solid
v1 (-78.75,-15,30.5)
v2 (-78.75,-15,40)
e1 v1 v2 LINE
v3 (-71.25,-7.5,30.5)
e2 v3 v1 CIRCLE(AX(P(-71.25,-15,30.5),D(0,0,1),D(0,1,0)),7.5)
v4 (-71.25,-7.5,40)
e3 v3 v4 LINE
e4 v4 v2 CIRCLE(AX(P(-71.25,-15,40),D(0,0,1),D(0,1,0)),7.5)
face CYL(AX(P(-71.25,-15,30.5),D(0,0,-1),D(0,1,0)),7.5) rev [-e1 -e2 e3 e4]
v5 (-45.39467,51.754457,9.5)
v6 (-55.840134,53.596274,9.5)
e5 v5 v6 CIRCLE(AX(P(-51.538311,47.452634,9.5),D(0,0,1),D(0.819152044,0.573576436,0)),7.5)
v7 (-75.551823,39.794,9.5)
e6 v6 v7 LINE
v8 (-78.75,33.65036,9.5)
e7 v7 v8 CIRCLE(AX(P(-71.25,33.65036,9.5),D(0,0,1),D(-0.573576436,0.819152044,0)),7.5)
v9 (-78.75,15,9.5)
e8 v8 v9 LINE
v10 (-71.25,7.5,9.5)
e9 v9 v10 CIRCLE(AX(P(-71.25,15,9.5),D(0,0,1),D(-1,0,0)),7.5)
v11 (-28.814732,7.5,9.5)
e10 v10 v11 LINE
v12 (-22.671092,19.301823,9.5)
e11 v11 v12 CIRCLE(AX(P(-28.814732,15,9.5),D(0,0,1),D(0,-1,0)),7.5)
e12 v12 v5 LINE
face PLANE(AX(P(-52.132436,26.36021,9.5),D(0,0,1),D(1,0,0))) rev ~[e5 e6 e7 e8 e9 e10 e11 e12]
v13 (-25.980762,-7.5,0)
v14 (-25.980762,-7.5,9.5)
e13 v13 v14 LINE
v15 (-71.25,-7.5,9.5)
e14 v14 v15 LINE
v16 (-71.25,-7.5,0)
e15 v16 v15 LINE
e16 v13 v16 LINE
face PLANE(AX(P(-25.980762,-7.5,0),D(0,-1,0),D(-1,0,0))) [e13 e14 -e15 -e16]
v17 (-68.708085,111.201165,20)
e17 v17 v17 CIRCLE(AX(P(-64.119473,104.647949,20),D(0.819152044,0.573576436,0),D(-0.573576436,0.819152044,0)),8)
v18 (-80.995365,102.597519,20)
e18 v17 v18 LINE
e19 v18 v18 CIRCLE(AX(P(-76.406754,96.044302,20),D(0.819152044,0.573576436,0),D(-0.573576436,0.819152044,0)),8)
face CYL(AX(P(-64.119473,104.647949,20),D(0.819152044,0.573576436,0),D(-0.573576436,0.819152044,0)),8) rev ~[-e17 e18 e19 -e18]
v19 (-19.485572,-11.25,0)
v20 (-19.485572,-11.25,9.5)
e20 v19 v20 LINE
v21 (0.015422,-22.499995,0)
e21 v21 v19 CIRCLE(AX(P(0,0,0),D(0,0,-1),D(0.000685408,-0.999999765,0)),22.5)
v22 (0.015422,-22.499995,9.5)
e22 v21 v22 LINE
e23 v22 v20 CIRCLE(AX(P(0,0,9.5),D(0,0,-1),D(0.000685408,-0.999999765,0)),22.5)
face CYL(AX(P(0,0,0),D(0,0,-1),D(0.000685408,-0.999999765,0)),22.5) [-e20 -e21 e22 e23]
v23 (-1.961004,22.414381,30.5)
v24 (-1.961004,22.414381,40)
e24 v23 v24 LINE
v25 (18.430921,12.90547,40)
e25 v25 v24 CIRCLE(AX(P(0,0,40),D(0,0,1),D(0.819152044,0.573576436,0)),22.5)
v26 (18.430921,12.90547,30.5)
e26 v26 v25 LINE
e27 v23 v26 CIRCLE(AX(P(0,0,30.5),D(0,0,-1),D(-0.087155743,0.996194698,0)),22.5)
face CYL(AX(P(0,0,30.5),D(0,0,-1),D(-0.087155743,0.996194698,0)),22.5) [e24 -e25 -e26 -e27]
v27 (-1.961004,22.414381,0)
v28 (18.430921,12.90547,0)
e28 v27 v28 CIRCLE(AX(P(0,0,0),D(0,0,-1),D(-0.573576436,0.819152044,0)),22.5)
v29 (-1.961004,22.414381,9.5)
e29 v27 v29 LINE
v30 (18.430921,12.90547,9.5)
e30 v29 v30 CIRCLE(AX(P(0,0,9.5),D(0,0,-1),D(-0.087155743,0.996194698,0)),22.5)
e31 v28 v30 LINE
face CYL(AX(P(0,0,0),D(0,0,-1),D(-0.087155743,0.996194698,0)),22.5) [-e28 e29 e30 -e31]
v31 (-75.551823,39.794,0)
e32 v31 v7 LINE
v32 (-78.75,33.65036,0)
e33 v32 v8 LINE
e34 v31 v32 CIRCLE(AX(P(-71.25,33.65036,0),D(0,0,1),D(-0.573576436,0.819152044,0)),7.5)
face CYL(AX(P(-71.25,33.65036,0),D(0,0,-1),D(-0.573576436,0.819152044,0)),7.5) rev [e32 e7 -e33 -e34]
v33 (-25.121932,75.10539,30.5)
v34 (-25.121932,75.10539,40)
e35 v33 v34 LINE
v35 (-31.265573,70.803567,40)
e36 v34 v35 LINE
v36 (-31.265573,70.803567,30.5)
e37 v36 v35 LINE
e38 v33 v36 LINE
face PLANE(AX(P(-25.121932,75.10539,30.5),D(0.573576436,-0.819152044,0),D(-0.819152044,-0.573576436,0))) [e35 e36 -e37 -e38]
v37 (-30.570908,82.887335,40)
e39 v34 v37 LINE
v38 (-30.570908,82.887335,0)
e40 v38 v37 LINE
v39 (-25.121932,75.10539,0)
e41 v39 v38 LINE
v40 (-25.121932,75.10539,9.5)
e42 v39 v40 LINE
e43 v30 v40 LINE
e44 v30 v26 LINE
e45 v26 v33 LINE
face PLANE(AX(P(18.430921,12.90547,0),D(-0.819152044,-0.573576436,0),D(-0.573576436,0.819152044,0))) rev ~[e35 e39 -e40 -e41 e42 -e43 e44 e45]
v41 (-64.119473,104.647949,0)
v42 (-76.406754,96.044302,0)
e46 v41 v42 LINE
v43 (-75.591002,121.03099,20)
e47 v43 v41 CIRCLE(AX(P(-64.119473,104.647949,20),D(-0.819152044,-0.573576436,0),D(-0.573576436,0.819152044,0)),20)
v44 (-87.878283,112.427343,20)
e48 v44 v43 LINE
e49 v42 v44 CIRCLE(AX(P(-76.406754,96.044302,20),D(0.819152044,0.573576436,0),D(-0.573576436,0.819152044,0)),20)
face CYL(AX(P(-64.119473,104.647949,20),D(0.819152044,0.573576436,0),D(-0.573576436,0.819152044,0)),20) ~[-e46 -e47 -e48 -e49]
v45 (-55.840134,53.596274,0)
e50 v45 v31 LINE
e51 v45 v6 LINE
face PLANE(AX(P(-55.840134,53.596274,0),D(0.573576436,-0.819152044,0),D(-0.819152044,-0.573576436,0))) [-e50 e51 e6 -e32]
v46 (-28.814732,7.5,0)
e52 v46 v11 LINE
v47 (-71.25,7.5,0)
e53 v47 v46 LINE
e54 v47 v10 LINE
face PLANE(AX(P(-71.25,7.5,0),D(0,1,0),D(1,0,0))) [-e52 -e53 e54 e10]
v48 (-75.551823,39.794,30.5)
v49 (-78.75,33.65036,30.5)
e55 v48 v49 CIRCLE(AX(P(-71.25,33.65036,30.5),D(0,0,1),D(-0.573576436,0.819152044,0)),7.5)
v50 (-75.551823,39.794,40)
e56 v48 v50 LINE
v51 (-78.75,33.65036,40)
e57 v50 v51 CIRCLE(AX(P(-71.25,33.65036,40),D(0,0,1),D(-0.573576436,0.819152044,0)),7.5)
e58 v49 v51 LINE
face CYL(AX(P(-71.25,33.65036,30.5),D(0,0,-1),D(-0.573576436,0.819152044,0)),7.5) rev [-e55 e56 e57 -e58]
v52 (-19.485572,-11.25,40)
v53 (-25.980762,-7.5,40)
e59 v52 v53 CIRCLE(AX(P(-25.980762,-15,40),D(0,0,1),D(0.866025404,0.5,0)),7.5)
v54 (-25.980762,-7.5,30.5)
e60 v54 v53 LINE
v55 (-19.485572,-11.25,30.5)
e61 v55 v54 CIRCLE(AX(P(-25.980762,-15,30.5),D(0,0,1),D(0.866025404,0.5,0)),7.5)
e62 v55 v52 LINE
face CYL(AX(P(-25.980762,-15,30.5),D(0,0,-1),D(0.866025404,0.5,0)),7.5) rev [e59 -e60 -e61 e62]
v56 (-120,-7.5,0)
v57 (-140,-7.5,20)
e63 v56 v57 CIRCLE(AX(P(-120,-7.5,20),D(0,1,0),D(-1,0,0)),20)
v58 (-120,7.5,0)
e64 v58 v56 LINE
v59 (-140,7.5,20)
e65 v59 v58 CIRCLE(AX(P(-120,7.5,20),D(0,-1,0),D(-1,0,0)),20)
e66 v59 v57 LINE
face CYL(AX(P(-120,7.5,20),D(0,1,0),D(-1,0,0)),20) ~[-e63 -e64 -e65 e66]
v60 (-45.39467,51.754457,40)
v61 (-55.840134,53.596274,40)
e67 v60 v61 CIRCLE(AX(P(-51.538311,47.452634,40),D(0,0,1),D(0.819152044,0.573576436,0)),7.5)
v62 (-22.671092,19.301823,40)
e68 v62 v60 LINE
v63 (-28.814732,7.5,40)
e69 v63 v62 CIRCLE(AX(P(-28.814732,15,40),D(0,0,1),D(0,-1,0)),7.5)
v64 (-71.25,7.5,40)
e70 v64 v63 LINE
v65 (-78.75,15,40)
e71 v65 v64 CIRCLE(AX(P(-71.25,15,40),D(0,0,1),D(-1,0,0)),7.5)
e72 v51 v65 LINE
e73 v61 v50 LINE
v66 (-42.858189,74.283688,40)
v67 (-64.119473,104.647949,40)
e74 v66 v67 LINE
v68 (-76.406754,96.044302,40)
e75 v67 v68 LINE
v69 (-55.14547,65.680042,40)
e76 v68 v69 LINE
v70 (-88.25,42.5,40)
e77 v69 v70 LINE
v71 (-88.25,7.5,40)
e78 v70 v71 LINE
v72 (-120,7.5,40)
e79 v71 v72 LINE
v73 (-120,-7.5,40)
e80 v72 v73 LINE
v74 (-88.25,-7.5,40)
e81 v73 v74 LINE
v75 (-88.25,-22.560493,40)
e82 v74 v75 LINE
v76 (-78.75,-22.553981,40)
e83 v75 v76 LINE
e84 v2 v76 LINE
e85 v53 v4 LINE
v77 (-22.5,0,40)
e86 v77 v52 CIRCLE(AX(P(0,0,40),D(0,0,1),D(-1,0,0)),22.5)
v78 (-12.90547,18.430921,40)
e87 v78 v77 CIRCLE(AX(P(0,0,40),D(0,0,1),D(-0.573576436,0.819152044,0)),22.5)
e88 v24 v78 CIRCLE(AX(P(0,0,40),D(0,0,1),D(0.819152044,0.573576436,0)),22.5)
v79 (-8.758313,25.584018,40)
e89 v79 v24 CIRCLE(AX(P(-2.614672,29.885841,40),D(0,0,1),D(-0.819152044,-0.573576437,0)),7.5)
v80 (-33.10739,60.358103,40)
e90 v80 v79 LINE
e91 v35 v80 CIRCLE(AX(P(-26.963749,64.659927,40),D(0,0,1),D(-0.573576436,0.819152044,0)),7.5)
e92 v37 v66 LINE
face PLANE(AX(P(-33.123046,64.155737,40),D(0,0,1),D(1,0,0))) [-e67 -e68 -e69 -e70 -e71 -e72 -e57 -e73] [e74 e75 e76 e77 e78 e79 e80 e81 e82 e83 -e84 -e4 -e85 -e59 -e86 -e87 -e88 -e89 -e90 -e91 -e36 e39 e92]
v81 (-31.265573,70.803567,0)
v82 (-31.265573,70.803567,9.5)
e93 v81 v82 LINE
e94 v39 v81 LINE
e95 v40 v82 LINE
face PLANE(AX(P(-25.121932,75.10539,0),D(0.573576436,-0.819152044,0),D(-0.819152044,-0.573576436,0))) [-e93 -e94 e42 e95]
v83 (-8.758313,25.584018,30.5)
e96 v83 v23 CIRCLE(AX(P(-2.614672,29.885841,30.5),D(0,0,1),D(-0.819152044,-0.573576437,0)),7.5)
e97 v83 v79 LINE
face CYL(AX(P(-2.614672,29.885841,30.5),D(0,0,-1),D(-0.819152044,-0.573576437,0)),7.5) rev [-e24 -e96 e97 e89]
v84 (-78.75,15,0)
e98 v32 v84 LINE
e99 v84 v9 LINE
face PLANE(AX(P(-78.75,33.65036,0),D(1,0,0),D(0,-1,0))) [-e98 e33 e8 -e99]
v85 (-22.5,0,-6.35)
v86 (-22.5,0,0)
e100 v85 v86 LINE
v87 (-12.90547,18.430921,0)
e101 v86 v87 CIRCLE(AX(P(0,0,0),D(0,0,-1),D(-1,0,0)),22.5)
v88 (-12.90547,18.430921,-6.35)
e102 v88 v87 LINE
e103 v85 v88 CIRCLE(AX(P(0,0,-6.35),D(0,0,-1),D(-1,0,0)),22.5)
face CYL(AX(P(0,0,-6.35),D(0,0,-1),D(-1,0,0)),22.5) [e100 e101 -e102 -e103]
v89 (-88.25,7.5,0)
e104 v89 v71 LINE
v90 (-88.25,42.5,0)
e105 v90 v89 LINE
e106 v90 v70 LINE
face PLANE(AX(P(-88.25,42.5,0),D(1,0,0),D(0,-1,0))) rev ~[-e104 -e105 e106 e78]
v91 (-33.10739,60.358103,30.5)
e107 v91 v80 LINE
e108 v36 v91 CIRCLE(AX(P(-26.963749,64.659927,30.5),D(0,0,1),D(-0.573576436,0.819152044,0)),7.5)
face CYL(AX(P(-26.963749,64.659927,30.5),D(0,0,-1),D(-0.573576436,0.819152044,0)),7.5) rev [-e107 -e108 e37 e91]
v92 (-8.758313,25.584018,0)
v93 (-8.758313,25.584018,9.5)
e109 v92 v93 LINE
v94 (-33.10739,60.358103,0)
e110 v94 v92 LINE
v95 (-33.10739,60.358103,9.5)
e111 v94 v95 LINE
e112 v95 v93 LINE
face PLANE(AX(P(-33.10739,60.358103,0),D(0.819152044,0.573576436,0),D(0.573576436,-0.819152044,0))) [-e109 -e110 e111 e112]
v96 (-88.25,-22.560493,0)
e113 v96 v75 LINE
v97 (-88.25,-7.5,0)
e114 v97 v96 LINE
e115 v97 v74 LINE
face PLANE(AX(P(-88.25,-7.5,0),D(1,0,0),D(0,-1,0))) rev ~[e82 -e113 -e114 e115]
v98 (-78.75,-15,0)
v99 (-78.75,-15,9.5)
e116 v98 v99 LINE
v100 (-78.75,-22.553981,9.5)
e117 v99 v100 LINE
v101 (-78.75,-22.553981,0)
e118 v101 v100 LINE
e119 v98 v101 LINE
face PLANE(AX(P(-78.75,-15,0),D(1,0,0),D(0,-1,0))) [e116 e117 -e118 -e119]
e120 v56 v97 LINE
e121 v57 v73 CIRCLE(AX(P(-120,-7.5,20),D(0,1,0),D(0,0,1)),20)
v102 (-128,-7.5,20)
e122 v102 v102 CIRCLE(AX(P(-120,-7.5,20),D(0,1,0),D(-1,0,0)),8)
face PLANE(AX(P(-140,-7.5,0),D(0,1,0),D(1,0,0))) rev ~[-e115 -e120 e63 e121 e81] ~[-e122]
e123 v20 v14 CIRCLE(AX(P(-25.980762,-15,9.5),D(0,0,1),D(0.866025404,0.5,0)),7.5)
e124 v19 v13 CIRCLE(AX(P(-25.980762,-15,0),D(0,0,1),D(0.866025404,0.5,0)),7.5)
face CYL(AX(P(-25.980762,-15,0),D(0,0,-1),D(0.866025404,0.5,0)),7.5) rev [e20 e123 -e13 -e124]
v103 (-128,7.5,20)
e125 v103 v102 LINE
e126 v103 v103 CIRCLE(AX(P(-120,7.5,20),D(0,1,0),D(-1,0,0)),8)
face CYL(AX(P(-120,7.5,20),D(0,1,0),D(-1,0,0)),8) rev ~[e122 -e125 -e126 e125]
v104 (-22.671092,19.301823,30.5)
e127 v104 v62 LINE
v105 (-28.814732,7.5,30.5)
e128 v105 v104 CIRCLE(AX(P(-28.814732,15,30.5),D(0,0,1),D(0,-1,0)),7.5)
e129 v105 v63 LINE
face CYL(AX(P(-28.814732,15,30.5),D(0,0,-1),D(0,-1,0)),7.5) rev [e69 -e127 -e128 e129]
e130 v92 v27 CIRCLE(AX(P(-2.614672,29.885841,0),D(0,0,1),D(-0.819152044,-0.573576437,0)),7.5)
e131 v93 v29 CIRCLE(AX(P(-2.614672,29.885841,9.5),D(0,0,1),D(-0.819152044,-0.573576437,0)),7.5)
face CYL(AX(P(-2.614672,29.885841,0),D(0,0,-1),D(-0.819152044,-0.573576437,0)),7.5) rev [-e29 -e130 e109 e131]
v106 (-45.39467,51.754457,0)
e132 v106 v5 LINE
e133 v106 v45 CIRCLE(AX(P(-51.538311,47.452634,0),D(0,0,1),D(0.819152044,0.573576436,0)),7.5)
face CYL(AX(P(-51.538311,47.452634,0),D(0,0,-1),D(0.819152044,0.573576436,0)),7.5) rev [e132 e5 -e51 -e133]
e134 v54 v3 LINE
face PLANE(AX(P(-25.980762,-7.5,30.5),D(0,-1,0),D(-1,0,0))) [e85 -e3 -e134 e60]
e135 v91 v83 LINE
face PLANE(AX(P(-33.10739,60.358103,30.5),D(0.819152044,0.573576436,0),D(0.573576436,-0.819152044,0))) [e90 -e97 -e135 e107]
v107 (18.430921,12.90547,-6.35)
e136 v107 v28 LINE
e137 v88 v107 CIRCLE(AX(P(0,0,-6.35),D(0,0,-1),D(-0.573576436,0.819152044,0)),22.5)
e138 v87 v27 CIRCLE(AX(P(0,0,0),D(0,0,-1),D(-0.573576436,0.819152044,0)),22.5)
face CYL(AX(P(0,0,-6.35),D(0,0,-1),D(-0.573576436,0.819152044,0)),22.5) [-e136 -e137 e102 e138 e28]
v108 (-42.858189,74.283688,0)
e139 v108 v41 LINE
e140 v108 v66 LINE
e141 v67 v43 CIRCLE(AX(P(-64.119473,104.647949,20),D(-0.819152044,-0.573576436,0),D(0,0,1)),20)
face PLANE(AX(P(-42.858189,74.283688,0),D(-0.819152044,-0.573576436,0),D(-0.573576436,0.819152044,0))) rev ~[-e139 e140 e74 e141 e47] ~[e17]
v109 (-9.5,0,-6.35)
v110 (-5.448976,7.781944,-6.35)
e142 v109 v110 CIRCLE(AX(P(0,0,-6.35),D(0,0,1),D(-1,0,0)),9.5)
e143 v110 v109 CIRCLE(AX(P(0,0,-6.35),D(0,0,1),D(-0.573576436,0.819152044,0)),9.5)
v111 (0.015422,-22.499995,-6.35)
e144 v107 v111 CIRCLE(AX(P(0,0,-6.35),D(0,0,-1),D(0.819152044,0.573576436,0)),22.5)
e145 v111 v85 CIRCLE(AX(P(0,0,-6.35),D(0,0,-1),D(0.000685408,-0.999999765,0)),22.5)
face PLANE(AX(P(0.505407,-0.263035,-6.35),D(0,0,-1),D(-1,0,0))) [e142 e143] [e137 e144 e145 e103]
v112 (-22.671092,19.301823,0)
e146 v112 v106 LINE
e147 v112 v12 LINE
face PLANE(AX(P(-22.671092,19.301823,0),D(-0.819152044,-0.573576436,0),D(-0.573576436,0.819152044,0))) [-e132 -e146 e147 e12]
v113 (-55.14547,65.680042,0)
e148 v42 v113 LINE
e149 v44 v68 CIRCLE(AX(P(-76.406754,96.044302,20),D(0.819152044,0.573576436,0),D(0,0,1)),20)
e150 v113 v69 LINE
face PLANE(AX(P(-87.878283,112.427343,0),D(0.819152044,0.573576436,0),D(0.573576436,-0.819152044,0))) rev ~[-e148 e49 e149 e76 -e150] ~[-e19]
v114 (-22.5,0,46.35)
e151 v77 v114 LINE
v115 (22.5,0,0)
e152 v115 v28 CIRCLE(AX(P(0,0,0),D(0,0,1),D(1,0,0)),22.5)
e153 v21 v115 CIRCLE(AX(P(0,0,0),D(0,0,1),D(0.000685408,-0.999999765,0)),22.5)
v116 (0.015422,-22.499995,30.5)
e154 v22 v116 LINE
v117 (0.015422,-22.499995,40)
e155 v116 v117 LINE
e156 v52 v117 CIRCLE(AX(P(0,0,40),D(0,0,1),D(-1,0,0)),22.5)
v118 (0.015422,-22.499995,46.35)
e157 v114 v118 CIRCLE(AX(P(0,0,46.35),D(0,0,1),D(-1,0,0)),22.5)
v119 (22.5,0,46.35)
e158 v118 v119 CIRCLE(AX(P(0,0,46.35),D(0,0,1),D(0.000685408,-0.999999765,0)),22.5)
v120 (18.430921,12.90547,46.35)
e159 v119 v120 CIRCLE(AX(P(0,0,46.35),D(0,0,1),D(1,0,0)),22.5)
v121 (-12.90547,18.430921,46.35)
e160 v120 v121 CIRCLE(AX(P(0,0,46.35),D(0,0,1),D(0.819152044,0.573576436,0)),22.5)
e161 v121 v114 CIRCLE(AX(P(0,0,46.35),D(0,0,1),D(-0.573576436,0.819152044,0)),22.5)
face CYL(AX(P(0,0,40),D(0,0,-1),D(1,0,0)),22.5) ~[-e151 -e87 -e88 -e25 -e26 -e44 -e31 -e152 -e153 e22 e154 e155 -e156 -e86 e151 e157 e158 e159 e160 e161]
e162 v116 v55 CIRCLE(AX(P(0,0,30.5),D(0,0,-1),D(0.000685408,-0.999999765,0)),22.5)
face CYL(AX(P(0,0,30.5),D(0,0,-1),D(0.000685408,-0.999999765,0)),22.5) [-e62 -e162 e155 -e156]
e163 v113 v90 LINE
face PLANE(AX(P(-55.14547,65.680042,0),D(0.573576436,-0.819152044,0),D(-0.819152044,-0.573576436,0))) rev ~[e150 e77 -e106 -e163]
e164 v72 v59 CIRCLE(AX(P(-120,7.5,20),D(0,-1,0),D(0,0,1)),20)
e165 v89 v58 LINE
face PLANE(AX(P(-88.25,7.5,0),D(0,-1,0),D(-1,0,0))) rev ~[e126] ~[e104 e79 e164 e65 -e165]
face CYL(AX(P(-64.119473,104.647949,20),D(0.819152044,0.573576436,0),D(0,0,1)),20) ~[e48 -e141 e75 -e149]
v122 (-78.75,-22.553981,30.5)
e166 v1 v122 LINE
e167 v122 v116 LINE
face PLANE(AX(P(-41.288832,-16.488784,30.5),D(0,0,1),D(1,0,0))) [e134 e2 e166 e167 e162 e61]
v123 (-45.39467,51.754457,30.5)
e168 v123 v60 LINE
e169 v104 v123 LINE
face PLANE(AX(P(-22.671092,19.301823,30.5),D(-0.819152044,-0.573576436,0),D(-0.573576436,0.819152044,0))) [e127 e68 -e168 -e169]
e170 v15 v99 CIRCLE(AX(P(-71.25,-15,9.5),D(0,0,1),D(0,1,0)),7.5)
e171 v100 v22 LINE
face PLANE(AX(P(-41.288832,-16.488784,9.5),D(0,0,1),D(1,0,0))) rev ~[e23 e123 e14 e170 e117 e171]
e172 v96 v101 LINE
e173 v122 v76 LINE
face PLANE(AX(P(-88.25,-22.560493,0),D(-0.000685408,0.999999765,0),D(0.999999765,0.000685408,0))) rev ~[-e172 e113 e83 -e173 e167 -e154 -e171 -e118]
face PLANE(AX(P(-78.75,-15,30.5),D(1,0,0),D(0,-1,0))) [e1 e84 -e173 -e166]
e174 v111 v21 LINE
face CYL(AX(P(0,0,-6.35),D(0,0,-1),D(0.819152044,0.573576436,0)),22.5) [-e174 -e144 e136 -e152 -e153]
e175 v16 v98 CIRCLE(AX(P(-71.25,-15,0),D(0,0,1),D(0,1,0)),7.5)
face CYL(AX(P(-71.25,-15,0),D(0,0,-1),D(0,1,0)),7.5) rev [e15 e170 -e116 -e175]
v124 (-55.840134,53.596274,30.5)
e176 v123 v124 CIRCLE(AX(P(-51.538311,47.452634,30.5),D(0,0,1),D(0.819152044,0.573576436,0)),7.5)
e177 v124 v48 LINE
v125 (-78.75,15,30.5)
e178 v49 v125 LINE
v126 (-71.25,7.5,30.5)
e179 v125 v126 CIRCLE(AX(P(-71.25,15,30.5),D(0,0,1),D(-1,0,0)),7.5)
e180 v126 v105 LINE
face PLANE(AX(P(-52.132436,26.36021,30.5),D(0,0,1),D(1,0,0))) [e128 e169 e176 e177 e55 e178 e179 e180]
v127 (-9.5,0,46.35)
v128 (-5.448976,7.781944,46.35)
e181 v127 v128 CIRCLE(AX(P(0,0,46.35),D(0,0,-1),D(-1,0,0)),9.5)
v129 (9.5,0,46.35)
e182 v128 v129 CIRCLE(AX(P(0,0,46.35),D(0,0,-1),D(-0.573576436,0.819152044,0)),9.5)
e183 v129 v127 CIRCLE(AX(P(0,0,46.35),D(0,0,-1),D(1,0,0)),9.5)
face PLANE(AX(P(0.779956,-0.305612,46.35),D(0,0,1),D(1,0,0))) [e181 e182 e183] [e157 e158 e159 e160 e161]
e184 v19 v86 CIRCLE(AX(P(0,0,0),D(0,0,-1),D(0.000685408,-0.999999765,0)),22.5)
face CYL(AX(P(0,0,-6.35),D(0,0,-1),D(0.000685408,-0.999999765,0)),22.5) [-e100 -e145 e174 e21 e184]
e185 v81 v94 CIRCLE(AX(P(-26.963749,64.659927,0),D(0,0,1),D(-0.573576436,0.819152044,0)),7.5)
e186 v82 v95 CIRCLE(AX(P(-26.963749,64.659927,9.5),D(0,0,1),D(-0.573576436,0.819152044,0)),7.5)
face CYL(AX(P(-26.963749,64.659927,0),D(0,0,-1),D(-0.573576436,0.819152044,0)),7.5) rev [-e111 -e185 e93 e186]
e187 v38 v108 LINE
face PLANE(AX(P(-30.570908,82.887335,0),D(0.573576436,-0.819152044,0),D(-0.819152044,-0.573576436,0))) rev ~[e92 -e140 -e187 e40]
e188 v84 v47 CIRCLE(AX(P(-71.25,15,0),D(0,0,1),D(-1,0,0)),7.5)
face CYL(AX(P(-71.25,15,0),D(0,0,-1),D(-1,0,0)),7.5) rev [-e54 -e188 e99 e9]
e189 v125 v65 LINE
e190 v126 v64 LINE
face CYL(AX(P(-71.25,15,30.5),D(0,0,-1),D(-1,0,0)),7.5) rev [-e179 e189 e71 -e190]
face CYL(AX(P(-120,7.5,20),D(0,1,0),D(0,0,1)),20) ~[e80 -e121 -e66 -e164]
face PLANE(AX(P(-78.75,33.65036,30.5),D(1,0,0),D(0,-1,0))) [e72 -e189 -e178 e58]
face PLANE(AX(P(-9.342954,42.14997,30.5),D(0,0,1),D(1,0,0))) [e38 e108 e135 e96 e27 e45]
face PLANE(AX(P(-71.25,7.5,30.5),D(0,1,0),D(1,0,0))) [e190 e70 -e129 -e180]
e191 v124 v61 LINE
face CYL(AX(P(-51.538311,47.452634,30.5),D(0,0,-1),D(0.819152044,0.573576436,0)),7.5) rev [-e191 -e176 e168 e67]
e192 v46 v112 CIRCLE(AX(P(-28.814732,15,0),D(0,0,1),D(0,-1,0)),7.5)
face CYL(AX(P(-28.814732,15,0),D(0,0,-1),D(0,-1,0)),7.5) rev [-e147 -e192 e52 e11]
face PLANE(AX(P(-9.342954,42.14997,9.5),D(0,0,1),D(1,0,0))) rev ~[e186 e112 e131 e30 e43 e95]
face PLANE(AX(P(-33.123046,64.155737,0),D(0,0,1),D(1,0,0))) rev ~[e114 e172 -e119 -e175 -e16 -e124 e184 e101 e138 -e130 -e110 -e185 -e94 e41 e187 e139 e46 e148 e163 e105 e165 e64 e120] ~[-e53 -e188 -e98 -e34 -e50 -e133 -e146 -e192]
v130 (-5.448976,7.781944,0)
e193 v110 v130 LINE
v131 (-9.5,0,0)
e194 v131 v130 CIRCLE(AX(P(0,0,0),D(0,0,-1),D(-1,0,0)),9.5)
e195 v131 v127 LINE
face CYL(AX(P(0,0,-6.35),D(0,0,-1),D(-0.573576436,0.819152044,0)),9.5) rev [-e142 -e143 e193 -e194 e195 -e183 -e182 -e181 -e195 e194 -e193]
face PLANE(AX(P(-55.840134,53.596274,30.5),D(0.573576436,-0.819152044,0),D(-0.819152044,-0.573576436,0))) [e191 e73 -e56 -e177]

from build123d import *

# Parameters (mm, degrees)
BOSS_EXTRU_1_DEPTH      = 40
ESQUISSE2_R             = 8
ENL_V_MAT_EXTRU_1_DEPTH = 192.268559563
ESQUISSE3_R             = 8
ENL_V_MAT_EXTRU_2_DEPTH = 185.632839971
BOSS_EXTRU_2_DEPTH      = 6.35
BOSS_EXTRU_3_START      = 6.35
BOSS_EXTRU_3_DEPTH      = 6.35
ENL_V_START             = -9.5
ENL_V_MAT_EXTRU_3_DEPTH = 9.5
ENL_V_MAT_EXTRU_4_DEPTH = 9.5


with BuildPart() as part:
    # Esquisse1 → Boss.-Extru.1 (new body)
    with BuildSketch(Plane.XY):
        with BuildLine():
            ThreePointArc((-12.905469818, 18.430920997), (3.907083998, 22.158174443), (18.430920997, 12.905469818))
            Line((18.430920997, 12.905469818), (-30.570908371, 82.887334756))
            Line((-30.570908371, 82.887334756), (-42.858189035, 74.28368821))
            Line((-42.858189035, 74.28368821), (-75.591001848, 121.030989584))
            Line((-75.591001848, 121.030989584), (-81.73464218, 116.729166311))
            Line((-81.73464218, 116.729166311), (-12.905469818, 18.430920997))
        make_face()
        with BuildLine():
            ThreePointArc((-22.5, 0), (-19.957743747, 10.389343798), (-12.905469818, 18.430920997))
            Line((-12.905469818, 18.430920997), (-81.73464218, 116.729166311))
            Line((-81.73464218, 116.729166311), (-87.878282512, 112.427343039))
            Line((-87.878282512, 112.427343039), (-55.1454697, 65.680041665))
            Line((-55.1454697, 65.680041665), (-88.25, 42.5))
            Line((-88.25, 42.5), (-88.25, 7.5))
            Line((-88.25, 7.5), (-140, 7.5))
            Line((-140, 7.5), (-140, 0))
            Line((-140, 0), (-22.5, 0))
        make_face()
        with BuildLine():
            Line((-88.25, -22.560492565), (0.015421683, -22.499994715))
            ThreePointArc((0.015421683, -22.499994715), (-15.904449254, -15.915354031), (-22.5, 0))
            Line((-22.5, 0), (-140, 0))
            Line((-140, 0), (-140, -7.5))
            Line((-140, -7.5), (-88.25, -7.5))
            Line((-88.25, -7.5), (-88.25, -22.560492565))
        make_face()
        with BuildLine():
            ThreePointArc((22.5, 0), (21.458631392, 6.765880489), (18.430920997, 12.905469818))
            ThreePointArc((18.430920997, 12.905469818), (3.907083998, 22.158174443), (-12.905469818, 18.430920997))
            Line((-12.905469818, 18.430920997), (-5.448976145, 7.781944421))
            ThreePointArc((-5.448976145, 7.781944421), (4.386611826, 8.426602915), (9.5, 0))
            ThreePointArc((9.5, 0), (0, -9.5), (-9.5, 0))
            Line((-9.5, 0), (-22.5, 0))
            ThreePointArc((-22.5, 0), (-15.904449254, -15.915354031), (0.015421683, -22.499994715))
            ThreePointArc((0.015421683, -22.499994715), (15.915354031, -15.904449254), (22.5, 0))
        make_face()
        with BuildLine():
            Line((-5.448976145, 7.781944421), (-12.905469818, 18.430920997))
            ThreePointArc((-12.905469818, 18.430920997), (-19.957743747, 10.389343798), (-22.5, 0))
            Line((-22.5, 0), (-9.5, 0))
            ThreePointArc((-9.5, 0), (-8.426602915, 4.386611826), (-5.448976145, 7.781944421))
        make_face()
        with BuildLine():
            ThreePointArc((22.5, 0), (21.458631392, 6.765880489), (18.430920997, 12.905469818))
            ThreePointArc((18.430920997, 12.905469818), (3.907083998, 22.158174443), (-12.905469818, 18.430920997))
            Line((-12.905469818, 18.430920997), (-5.448976145, 7.781944421))
            ThreePointArc((-5.448976145, 7.781944421), (4.386611826, 8.426602915), (9.5, 0))
            ThreePointArc((9.5, 0), (0, -9.5), (-9.5, 0))
            Line((-9.5, 0), (-22.5, 0))
            ThreePointArc((-22.5, 0), (-15.904449254, -15.915354031), (0.015421683, -22.499994715))
            ThreePointArc((0.015421683, -22.499994715), (15.915354031, -15.904449254), (22.5, 0))
        make_face()
        with BuildLine():
            Line((-5.448976145, 7.781944421), (-12.905469818, 18.430920997))
            ThreePointArc((-12.905469818, 18.430920997), (-19.957743747, 10.389343798), (-22.5, 0))
            Line((-22.5, 0), (-9.5, 0))
            ThreePointArc((-9.5, 0), (-8.426602915, 4.386611826), (-5.448976145, 7.781944421))
        make_face()
    extrude(amount=BOSS_EXTRU_1_DEPTH)

    # Esquisse2 → Enlèv. mat.-Extru.1 (cut, through all)
    with BuildSketch(Plane(origin=(6.143640332, 4.301823273, 0), x_dir=(0, 0, -1), z_dir=(0.8191520442889931, 0.5735764363510444, 0))):
        with Locations(Location((-20, 122.5, 0), (0, 0, 90))):
            Circle(ESQUISSE2_R)
        with BuildLine():
            ThreePointArc((-40, 122.5), (-34.142135624, 136.642135624), (-20, 142.5))
            Line((-20, 142.5), (-40, 142.5))
            Line((-40, 142.5), (-40, 122.5))
        make_face()
        with BuildLine():
            ThreePointArc((-20, 142.5), (-5.857864376, 136.642135624), (0, 122.5))
            Line((0, 122.5), (0, 142.5))
            Line((0, 142.5), (-20, 142.5))
        make_face()
    extrude(amount=-ENL_V_MAT_EXTRU_1_DEPTH, mode=Mode.SUBTRACT)

    # Esquisse3 → Enlèv. mat.-Extru.2 (cut, through all)
    with BuildSketch(Plane(origin=(0, 7.5, 0), x_dir=(1, 0, 0), z_dir=(0, 1, 0))):
        with BuildLine():
            ThreePointArc((-140, -20), (-134.142135624, -5.857864376), (-120, 0))
            Line((-120, 0), (-140, 0))
            Line((-140, 0), (-140, -20))
        make_face()
        with BuildLine():
            ThreePointArc((-120, -40), (-134.142135624, -34.142135624), (-140, -20))
            Line((-140, -20), (-140, -40))
            Line((-140, -40), (-120, -40))
        make_face()
        with Locations(Location((-120, -20, 0), (0, 0, 180))):
            Circle(ESQUISSE3_R)
    extrude(amount=-ENL_V_MAT_EXTRU_2_DEPTH, mode=Mode.SUBTRACT)

    # Esquisse4 → Boss.-Extru.2 (add)
    with BuildSketch(Plane.XY.offset(40)):
        with BuildLine():
            ThreePointArc((22.5, 0), (21.458631392, 6.765880489), (18.430920997, 12.905469818))
            ThreePointArc((18.430920997, 12.905469818), (3.907083998, 22.158174443), (-12.905469818, 18.430920997))
            Line((-12.905469818, 18.430920997), (-5.448976145, 7.781944421))
            ThreePointArc((-5.448976145, 7.781944421), (4.386611826, 8.426602915), (9.5, 0))
            ThreePointArc((9.5, 0), (0, -9.5), (-9.5, 0))
            Line((-9.5, 0), (-22.5, 0))
            ThreePointArc((-22.5, 0), (-15.904449254, -15.915354031), (0.015421683, -22.499994715))
            ThreePointArc((0.015421683, -22.499994715), (15.915354031, -15.904449254), (22.5, 0))
        make_face()
        with BuildLine():
            ThreePointArc((22.5, 0), (21.458631392, 6.765880489), (18.430920997, 12.905469818))
            ThreePointArc((18.430920997, 12.905469818), (3.907083998, 22.158174443), (-12.905469818, 18.430920997))
            Line((-12.905469818, 18.430920997), (-5.448976145, 7.781944421))
            ThreePointArc((-5.448976145, 7.781944421), (4.386611826, 8.426602915), (9.5, 0))
            ThreePointArc((9.5, 0), (0, -9.5), (-9.5, 0))
            Line((-9.5, 0), (-22.5, 0))
            ThreePointArc((-22.5, 0), (-15.904449254, -15.915354031), (0.015421683, -22.499994715))
            ThreePointArc((0.015421683, -22.499994715), (15.915354031, -15.904449254), (22.5, 0))
        make_face()
        with BuildLine():
            Line((-5.448976145, 7.781944421), (-12.905469818, 18.430920997))
            ThreePointArc((-12.905469818, 18.430920997), (-19.957743747, 10.389343798), (-22.5, 0))
            Line((-22.5, 0), (-9.5, 0))
            ThreePointArc((-9.5, 0), (-8.426602915, 4.386611826), (-5.448976145, 7.781944421))
        make_face()
    extrude(amount=BOSS_EXTRU_2_DEPTH)

    # Esquisse5 → Boss.-Extru.3 (add)
    with BuildSketch(Plane(origin=(0, 0, 0), x_dir=(-1, 0, 0), z_dir=(0, 0, -1)).offset(BOSS_EXTRU_3_START)):
        with BuildLine():
            ThreePointArc((12.905469818, 18.430920997), (-3.907083998, 22.158174443), (-18.430920997, 12.905469818))
            ThreePointArc((-18.430920997, 12.905469818), (-19.961303045, -10.382503588), (-0.015421683, -22.499994715))
            ThreePointArc((-0.015421683, -22.499994715), (15.904449254, -15.915354031), (22.5, 0))
            Line((22.5, 0), (9.5, 0))
            ThreePointArc((9.5, 0), (-8.426602915, -4.386611826), (5.448976145, 7.781944421))
            Line((5.448976145, 7.781944421), (12.905469818, 18.430920997))
        make_face()
        with BuildLine():
            ThreePointArc((22.5, 0), (19.957743747, 10.389343798), (12.905469818, 18.430920997))
            Line((12.905469818, 18.430920997), (5.448976145, 7.781944421))
            ThreePointArc((5.448976145, 7.781944421), (8.426602915, 4.386611826), (9.5, 0))
            Line((9.5, 0), (22.5, 0))
        make_face()
        with BuildLine():
            ThreePointArc((12.905469818, 18.430920997), (-3.907083998, 22.158174443), (-18.430920997, 12.905469818))
            ThreePointArc((-18.430920997, 12.905469818), (-19.961303045, -10.382503588), (-0.015421683, -22.499994715))
            ThreePointArc((-0.015421683, -22.499994715), (15.904449254, -15.915354031), (22.5, 0))
            Line((22.5, 0), (9.5, 0))
            ThreePointArc((9.5, 0), (-8.426602915, -4.386611826), (5.448976145, 7.781944421))
            Line((5.448976145, 7.781944421), (12.905469818, 18.430920997))
        make_face()
    extrude(amount=-BOSS_EXTRU_3_DEPTH)

    # Esquisse6 → Enlèv. mat.-Extru.3 (cut)
    with BuildSketch(Plane.XY.offset(40).offset(ENL_V_START)):
        with BuildLine():
            Line((18.430920997, 12.905469818), (-25.121932226, 75.105390335))
            Line((-25.121932226, 75.105390335), (-31.265572558, 70.803567062))
            ThreePointArc((-31.265572558, 70.803567062), (-34.349807433, 65.962288063), (-33.107389617, 60.358103458))
            Line((-33.107389617, 60.358103458), (-8.758312615, 25.58401767))
            ThreePointArc((-8.758312615, 25.58401767), (-5.784309245, 23.08853254), (-1.961004212, 22.414380707))
            ThreePointArc((-1.961004212, 22.414380707), (9.508910889, 20.391925208), (18.430920997, 12.905469818))
        make_face()
        with BuildLine():
            Line((-78.75, -22.553981187), (0.015421683, -22.499994715))
            ThreePointArc((0.015421683, -22.499994715), (-11.243321555, -19.489425862), (-19.485571585, -11.25))
            ThreePointArc((-19.485571585, -11.25), (-22.230762114, -8.504809472), (-25.980762114, -7.5))
            Line((-25.980762114, -7.5), (-71.25, -7.5))
            ThreePointArc((-71.25, -7.5), (-76.553300859, -9.696699141), (-78.75, -15))
            Line((-78.75, -15), (-78.75, -22.553981187))
        make_face()
        with BuildLine():
            Line((-22.671091572, 19.301823273), (-45.394670282, 51.754456912))
            ThreePointArc((-45.394670282, 51.754456912), (-50.235949281, 54.838691787), (-55.840133886, 53.596273972))
            Line((-55.840133886, 53.596273972), (-75.551823273, 39.794000473))
            ThreePointArc((-75.551823273, 39.794000473), (-77.902581249, 37.11347474), (-78.75, 33.650360141))
            Line((-78.75, 33.650360141), (-78.75, 15))
            ThreePointArc((-78.75, 15), (-76.553300859, 9.696699141), (-71.25, 7.5))
            Line((-71.25, 7.5), (-28.814731905, 7.5))
            ThreePointArc((-28.814731905, 7.5), (-22.162150656, 11.536885401), (-22.671091572, 19.301823273))
        make_face()
    extrude(amount=ENL_V_MAT_EXTRU_3_DEPTH, mode=Mode.SUBTRACT)

    # Esquisse7 → Enlèv. mat.-Extru.4 (cut)
    with BuildSketch(Plane(origin=(0, 0, 0), x_dir=(-1, 0, 0), z_dir=(0, 0, -1))):
        with BuildLine():
            Line((25.980762114, -7.5), (71.25, -7.5))
            ThreePointArc((71.25, -7.5), (76.553300859, -9.696699141), (78.75, -15))
            Line((78.75, -15), (78.75, -22.553981187))
            Line((78.75, -22.553981187), (-0.015421683, -22.499994715))
            ThreePointArc((-0.015421683, -22.499994715), (11.243321555, -19.489425862), (19.485571585, -11.25))
            ThreePointArc((19.485571585, -11.25), (22.230762114, -8.504809472), (25.980762114, -7.5))
        make_face()
        with BuildLine():
            Line((33.107389617, 60.358103458), (8.758312615, 25.58401767))
            ThreePointArc((8.758312615, 25.58401767), (5.784309245, 23.08853254), (1.961004212, 22.414380707))
            ThreePointArc((1.961004212, 22.414380707), (-9.508910889, 20.391925208), (-18.430920997, 12.905469818))
            Line((-18.430920997, 12.905469818), (25.121932226, 75.105390335))
            Line((25.121932226, 75.105390335), (31.265572558, 70.803567062))
            ThreePointArc((31.265572558, 70.803567062), (34.349807433, 65.962288063), (33.107389617, 60.358103458))
        make_face()
        with BuildLine():
            Line((78.75, 33.650360141), (78.75, 15))
            ThreePointArc((78.75, 15), (76.553300859, 9.696699141), (71.25, 7.5))
            Line((71.25, 7.5), (28.814731905, 7.5))
            ThreePointArc((28.814731905, 7.5), (22.162150656, 11.536885401), (22.671091572, 19.301823273))
            Line((22.671091572, 19.301823273), (45.394670282, 51.754456912))
            ThreePointArc((45.394670282, 51.754456912), (50.235949281, 54.838691787), (55.840133886, 53.596273972))
            Line((55.840133886, 53.596273972), (75.551823273, 39.794000473))
            ThreePointArc((75.551823273, 39.794000473), (77.902581249, 37.11347474), (78.75, 33.650360141))
        make_face()
    extrude(amount=-ENL_V_MAT_EXTRU_4_DEPTH, mode=Mode.SUBTRACT)


solid = part.part
